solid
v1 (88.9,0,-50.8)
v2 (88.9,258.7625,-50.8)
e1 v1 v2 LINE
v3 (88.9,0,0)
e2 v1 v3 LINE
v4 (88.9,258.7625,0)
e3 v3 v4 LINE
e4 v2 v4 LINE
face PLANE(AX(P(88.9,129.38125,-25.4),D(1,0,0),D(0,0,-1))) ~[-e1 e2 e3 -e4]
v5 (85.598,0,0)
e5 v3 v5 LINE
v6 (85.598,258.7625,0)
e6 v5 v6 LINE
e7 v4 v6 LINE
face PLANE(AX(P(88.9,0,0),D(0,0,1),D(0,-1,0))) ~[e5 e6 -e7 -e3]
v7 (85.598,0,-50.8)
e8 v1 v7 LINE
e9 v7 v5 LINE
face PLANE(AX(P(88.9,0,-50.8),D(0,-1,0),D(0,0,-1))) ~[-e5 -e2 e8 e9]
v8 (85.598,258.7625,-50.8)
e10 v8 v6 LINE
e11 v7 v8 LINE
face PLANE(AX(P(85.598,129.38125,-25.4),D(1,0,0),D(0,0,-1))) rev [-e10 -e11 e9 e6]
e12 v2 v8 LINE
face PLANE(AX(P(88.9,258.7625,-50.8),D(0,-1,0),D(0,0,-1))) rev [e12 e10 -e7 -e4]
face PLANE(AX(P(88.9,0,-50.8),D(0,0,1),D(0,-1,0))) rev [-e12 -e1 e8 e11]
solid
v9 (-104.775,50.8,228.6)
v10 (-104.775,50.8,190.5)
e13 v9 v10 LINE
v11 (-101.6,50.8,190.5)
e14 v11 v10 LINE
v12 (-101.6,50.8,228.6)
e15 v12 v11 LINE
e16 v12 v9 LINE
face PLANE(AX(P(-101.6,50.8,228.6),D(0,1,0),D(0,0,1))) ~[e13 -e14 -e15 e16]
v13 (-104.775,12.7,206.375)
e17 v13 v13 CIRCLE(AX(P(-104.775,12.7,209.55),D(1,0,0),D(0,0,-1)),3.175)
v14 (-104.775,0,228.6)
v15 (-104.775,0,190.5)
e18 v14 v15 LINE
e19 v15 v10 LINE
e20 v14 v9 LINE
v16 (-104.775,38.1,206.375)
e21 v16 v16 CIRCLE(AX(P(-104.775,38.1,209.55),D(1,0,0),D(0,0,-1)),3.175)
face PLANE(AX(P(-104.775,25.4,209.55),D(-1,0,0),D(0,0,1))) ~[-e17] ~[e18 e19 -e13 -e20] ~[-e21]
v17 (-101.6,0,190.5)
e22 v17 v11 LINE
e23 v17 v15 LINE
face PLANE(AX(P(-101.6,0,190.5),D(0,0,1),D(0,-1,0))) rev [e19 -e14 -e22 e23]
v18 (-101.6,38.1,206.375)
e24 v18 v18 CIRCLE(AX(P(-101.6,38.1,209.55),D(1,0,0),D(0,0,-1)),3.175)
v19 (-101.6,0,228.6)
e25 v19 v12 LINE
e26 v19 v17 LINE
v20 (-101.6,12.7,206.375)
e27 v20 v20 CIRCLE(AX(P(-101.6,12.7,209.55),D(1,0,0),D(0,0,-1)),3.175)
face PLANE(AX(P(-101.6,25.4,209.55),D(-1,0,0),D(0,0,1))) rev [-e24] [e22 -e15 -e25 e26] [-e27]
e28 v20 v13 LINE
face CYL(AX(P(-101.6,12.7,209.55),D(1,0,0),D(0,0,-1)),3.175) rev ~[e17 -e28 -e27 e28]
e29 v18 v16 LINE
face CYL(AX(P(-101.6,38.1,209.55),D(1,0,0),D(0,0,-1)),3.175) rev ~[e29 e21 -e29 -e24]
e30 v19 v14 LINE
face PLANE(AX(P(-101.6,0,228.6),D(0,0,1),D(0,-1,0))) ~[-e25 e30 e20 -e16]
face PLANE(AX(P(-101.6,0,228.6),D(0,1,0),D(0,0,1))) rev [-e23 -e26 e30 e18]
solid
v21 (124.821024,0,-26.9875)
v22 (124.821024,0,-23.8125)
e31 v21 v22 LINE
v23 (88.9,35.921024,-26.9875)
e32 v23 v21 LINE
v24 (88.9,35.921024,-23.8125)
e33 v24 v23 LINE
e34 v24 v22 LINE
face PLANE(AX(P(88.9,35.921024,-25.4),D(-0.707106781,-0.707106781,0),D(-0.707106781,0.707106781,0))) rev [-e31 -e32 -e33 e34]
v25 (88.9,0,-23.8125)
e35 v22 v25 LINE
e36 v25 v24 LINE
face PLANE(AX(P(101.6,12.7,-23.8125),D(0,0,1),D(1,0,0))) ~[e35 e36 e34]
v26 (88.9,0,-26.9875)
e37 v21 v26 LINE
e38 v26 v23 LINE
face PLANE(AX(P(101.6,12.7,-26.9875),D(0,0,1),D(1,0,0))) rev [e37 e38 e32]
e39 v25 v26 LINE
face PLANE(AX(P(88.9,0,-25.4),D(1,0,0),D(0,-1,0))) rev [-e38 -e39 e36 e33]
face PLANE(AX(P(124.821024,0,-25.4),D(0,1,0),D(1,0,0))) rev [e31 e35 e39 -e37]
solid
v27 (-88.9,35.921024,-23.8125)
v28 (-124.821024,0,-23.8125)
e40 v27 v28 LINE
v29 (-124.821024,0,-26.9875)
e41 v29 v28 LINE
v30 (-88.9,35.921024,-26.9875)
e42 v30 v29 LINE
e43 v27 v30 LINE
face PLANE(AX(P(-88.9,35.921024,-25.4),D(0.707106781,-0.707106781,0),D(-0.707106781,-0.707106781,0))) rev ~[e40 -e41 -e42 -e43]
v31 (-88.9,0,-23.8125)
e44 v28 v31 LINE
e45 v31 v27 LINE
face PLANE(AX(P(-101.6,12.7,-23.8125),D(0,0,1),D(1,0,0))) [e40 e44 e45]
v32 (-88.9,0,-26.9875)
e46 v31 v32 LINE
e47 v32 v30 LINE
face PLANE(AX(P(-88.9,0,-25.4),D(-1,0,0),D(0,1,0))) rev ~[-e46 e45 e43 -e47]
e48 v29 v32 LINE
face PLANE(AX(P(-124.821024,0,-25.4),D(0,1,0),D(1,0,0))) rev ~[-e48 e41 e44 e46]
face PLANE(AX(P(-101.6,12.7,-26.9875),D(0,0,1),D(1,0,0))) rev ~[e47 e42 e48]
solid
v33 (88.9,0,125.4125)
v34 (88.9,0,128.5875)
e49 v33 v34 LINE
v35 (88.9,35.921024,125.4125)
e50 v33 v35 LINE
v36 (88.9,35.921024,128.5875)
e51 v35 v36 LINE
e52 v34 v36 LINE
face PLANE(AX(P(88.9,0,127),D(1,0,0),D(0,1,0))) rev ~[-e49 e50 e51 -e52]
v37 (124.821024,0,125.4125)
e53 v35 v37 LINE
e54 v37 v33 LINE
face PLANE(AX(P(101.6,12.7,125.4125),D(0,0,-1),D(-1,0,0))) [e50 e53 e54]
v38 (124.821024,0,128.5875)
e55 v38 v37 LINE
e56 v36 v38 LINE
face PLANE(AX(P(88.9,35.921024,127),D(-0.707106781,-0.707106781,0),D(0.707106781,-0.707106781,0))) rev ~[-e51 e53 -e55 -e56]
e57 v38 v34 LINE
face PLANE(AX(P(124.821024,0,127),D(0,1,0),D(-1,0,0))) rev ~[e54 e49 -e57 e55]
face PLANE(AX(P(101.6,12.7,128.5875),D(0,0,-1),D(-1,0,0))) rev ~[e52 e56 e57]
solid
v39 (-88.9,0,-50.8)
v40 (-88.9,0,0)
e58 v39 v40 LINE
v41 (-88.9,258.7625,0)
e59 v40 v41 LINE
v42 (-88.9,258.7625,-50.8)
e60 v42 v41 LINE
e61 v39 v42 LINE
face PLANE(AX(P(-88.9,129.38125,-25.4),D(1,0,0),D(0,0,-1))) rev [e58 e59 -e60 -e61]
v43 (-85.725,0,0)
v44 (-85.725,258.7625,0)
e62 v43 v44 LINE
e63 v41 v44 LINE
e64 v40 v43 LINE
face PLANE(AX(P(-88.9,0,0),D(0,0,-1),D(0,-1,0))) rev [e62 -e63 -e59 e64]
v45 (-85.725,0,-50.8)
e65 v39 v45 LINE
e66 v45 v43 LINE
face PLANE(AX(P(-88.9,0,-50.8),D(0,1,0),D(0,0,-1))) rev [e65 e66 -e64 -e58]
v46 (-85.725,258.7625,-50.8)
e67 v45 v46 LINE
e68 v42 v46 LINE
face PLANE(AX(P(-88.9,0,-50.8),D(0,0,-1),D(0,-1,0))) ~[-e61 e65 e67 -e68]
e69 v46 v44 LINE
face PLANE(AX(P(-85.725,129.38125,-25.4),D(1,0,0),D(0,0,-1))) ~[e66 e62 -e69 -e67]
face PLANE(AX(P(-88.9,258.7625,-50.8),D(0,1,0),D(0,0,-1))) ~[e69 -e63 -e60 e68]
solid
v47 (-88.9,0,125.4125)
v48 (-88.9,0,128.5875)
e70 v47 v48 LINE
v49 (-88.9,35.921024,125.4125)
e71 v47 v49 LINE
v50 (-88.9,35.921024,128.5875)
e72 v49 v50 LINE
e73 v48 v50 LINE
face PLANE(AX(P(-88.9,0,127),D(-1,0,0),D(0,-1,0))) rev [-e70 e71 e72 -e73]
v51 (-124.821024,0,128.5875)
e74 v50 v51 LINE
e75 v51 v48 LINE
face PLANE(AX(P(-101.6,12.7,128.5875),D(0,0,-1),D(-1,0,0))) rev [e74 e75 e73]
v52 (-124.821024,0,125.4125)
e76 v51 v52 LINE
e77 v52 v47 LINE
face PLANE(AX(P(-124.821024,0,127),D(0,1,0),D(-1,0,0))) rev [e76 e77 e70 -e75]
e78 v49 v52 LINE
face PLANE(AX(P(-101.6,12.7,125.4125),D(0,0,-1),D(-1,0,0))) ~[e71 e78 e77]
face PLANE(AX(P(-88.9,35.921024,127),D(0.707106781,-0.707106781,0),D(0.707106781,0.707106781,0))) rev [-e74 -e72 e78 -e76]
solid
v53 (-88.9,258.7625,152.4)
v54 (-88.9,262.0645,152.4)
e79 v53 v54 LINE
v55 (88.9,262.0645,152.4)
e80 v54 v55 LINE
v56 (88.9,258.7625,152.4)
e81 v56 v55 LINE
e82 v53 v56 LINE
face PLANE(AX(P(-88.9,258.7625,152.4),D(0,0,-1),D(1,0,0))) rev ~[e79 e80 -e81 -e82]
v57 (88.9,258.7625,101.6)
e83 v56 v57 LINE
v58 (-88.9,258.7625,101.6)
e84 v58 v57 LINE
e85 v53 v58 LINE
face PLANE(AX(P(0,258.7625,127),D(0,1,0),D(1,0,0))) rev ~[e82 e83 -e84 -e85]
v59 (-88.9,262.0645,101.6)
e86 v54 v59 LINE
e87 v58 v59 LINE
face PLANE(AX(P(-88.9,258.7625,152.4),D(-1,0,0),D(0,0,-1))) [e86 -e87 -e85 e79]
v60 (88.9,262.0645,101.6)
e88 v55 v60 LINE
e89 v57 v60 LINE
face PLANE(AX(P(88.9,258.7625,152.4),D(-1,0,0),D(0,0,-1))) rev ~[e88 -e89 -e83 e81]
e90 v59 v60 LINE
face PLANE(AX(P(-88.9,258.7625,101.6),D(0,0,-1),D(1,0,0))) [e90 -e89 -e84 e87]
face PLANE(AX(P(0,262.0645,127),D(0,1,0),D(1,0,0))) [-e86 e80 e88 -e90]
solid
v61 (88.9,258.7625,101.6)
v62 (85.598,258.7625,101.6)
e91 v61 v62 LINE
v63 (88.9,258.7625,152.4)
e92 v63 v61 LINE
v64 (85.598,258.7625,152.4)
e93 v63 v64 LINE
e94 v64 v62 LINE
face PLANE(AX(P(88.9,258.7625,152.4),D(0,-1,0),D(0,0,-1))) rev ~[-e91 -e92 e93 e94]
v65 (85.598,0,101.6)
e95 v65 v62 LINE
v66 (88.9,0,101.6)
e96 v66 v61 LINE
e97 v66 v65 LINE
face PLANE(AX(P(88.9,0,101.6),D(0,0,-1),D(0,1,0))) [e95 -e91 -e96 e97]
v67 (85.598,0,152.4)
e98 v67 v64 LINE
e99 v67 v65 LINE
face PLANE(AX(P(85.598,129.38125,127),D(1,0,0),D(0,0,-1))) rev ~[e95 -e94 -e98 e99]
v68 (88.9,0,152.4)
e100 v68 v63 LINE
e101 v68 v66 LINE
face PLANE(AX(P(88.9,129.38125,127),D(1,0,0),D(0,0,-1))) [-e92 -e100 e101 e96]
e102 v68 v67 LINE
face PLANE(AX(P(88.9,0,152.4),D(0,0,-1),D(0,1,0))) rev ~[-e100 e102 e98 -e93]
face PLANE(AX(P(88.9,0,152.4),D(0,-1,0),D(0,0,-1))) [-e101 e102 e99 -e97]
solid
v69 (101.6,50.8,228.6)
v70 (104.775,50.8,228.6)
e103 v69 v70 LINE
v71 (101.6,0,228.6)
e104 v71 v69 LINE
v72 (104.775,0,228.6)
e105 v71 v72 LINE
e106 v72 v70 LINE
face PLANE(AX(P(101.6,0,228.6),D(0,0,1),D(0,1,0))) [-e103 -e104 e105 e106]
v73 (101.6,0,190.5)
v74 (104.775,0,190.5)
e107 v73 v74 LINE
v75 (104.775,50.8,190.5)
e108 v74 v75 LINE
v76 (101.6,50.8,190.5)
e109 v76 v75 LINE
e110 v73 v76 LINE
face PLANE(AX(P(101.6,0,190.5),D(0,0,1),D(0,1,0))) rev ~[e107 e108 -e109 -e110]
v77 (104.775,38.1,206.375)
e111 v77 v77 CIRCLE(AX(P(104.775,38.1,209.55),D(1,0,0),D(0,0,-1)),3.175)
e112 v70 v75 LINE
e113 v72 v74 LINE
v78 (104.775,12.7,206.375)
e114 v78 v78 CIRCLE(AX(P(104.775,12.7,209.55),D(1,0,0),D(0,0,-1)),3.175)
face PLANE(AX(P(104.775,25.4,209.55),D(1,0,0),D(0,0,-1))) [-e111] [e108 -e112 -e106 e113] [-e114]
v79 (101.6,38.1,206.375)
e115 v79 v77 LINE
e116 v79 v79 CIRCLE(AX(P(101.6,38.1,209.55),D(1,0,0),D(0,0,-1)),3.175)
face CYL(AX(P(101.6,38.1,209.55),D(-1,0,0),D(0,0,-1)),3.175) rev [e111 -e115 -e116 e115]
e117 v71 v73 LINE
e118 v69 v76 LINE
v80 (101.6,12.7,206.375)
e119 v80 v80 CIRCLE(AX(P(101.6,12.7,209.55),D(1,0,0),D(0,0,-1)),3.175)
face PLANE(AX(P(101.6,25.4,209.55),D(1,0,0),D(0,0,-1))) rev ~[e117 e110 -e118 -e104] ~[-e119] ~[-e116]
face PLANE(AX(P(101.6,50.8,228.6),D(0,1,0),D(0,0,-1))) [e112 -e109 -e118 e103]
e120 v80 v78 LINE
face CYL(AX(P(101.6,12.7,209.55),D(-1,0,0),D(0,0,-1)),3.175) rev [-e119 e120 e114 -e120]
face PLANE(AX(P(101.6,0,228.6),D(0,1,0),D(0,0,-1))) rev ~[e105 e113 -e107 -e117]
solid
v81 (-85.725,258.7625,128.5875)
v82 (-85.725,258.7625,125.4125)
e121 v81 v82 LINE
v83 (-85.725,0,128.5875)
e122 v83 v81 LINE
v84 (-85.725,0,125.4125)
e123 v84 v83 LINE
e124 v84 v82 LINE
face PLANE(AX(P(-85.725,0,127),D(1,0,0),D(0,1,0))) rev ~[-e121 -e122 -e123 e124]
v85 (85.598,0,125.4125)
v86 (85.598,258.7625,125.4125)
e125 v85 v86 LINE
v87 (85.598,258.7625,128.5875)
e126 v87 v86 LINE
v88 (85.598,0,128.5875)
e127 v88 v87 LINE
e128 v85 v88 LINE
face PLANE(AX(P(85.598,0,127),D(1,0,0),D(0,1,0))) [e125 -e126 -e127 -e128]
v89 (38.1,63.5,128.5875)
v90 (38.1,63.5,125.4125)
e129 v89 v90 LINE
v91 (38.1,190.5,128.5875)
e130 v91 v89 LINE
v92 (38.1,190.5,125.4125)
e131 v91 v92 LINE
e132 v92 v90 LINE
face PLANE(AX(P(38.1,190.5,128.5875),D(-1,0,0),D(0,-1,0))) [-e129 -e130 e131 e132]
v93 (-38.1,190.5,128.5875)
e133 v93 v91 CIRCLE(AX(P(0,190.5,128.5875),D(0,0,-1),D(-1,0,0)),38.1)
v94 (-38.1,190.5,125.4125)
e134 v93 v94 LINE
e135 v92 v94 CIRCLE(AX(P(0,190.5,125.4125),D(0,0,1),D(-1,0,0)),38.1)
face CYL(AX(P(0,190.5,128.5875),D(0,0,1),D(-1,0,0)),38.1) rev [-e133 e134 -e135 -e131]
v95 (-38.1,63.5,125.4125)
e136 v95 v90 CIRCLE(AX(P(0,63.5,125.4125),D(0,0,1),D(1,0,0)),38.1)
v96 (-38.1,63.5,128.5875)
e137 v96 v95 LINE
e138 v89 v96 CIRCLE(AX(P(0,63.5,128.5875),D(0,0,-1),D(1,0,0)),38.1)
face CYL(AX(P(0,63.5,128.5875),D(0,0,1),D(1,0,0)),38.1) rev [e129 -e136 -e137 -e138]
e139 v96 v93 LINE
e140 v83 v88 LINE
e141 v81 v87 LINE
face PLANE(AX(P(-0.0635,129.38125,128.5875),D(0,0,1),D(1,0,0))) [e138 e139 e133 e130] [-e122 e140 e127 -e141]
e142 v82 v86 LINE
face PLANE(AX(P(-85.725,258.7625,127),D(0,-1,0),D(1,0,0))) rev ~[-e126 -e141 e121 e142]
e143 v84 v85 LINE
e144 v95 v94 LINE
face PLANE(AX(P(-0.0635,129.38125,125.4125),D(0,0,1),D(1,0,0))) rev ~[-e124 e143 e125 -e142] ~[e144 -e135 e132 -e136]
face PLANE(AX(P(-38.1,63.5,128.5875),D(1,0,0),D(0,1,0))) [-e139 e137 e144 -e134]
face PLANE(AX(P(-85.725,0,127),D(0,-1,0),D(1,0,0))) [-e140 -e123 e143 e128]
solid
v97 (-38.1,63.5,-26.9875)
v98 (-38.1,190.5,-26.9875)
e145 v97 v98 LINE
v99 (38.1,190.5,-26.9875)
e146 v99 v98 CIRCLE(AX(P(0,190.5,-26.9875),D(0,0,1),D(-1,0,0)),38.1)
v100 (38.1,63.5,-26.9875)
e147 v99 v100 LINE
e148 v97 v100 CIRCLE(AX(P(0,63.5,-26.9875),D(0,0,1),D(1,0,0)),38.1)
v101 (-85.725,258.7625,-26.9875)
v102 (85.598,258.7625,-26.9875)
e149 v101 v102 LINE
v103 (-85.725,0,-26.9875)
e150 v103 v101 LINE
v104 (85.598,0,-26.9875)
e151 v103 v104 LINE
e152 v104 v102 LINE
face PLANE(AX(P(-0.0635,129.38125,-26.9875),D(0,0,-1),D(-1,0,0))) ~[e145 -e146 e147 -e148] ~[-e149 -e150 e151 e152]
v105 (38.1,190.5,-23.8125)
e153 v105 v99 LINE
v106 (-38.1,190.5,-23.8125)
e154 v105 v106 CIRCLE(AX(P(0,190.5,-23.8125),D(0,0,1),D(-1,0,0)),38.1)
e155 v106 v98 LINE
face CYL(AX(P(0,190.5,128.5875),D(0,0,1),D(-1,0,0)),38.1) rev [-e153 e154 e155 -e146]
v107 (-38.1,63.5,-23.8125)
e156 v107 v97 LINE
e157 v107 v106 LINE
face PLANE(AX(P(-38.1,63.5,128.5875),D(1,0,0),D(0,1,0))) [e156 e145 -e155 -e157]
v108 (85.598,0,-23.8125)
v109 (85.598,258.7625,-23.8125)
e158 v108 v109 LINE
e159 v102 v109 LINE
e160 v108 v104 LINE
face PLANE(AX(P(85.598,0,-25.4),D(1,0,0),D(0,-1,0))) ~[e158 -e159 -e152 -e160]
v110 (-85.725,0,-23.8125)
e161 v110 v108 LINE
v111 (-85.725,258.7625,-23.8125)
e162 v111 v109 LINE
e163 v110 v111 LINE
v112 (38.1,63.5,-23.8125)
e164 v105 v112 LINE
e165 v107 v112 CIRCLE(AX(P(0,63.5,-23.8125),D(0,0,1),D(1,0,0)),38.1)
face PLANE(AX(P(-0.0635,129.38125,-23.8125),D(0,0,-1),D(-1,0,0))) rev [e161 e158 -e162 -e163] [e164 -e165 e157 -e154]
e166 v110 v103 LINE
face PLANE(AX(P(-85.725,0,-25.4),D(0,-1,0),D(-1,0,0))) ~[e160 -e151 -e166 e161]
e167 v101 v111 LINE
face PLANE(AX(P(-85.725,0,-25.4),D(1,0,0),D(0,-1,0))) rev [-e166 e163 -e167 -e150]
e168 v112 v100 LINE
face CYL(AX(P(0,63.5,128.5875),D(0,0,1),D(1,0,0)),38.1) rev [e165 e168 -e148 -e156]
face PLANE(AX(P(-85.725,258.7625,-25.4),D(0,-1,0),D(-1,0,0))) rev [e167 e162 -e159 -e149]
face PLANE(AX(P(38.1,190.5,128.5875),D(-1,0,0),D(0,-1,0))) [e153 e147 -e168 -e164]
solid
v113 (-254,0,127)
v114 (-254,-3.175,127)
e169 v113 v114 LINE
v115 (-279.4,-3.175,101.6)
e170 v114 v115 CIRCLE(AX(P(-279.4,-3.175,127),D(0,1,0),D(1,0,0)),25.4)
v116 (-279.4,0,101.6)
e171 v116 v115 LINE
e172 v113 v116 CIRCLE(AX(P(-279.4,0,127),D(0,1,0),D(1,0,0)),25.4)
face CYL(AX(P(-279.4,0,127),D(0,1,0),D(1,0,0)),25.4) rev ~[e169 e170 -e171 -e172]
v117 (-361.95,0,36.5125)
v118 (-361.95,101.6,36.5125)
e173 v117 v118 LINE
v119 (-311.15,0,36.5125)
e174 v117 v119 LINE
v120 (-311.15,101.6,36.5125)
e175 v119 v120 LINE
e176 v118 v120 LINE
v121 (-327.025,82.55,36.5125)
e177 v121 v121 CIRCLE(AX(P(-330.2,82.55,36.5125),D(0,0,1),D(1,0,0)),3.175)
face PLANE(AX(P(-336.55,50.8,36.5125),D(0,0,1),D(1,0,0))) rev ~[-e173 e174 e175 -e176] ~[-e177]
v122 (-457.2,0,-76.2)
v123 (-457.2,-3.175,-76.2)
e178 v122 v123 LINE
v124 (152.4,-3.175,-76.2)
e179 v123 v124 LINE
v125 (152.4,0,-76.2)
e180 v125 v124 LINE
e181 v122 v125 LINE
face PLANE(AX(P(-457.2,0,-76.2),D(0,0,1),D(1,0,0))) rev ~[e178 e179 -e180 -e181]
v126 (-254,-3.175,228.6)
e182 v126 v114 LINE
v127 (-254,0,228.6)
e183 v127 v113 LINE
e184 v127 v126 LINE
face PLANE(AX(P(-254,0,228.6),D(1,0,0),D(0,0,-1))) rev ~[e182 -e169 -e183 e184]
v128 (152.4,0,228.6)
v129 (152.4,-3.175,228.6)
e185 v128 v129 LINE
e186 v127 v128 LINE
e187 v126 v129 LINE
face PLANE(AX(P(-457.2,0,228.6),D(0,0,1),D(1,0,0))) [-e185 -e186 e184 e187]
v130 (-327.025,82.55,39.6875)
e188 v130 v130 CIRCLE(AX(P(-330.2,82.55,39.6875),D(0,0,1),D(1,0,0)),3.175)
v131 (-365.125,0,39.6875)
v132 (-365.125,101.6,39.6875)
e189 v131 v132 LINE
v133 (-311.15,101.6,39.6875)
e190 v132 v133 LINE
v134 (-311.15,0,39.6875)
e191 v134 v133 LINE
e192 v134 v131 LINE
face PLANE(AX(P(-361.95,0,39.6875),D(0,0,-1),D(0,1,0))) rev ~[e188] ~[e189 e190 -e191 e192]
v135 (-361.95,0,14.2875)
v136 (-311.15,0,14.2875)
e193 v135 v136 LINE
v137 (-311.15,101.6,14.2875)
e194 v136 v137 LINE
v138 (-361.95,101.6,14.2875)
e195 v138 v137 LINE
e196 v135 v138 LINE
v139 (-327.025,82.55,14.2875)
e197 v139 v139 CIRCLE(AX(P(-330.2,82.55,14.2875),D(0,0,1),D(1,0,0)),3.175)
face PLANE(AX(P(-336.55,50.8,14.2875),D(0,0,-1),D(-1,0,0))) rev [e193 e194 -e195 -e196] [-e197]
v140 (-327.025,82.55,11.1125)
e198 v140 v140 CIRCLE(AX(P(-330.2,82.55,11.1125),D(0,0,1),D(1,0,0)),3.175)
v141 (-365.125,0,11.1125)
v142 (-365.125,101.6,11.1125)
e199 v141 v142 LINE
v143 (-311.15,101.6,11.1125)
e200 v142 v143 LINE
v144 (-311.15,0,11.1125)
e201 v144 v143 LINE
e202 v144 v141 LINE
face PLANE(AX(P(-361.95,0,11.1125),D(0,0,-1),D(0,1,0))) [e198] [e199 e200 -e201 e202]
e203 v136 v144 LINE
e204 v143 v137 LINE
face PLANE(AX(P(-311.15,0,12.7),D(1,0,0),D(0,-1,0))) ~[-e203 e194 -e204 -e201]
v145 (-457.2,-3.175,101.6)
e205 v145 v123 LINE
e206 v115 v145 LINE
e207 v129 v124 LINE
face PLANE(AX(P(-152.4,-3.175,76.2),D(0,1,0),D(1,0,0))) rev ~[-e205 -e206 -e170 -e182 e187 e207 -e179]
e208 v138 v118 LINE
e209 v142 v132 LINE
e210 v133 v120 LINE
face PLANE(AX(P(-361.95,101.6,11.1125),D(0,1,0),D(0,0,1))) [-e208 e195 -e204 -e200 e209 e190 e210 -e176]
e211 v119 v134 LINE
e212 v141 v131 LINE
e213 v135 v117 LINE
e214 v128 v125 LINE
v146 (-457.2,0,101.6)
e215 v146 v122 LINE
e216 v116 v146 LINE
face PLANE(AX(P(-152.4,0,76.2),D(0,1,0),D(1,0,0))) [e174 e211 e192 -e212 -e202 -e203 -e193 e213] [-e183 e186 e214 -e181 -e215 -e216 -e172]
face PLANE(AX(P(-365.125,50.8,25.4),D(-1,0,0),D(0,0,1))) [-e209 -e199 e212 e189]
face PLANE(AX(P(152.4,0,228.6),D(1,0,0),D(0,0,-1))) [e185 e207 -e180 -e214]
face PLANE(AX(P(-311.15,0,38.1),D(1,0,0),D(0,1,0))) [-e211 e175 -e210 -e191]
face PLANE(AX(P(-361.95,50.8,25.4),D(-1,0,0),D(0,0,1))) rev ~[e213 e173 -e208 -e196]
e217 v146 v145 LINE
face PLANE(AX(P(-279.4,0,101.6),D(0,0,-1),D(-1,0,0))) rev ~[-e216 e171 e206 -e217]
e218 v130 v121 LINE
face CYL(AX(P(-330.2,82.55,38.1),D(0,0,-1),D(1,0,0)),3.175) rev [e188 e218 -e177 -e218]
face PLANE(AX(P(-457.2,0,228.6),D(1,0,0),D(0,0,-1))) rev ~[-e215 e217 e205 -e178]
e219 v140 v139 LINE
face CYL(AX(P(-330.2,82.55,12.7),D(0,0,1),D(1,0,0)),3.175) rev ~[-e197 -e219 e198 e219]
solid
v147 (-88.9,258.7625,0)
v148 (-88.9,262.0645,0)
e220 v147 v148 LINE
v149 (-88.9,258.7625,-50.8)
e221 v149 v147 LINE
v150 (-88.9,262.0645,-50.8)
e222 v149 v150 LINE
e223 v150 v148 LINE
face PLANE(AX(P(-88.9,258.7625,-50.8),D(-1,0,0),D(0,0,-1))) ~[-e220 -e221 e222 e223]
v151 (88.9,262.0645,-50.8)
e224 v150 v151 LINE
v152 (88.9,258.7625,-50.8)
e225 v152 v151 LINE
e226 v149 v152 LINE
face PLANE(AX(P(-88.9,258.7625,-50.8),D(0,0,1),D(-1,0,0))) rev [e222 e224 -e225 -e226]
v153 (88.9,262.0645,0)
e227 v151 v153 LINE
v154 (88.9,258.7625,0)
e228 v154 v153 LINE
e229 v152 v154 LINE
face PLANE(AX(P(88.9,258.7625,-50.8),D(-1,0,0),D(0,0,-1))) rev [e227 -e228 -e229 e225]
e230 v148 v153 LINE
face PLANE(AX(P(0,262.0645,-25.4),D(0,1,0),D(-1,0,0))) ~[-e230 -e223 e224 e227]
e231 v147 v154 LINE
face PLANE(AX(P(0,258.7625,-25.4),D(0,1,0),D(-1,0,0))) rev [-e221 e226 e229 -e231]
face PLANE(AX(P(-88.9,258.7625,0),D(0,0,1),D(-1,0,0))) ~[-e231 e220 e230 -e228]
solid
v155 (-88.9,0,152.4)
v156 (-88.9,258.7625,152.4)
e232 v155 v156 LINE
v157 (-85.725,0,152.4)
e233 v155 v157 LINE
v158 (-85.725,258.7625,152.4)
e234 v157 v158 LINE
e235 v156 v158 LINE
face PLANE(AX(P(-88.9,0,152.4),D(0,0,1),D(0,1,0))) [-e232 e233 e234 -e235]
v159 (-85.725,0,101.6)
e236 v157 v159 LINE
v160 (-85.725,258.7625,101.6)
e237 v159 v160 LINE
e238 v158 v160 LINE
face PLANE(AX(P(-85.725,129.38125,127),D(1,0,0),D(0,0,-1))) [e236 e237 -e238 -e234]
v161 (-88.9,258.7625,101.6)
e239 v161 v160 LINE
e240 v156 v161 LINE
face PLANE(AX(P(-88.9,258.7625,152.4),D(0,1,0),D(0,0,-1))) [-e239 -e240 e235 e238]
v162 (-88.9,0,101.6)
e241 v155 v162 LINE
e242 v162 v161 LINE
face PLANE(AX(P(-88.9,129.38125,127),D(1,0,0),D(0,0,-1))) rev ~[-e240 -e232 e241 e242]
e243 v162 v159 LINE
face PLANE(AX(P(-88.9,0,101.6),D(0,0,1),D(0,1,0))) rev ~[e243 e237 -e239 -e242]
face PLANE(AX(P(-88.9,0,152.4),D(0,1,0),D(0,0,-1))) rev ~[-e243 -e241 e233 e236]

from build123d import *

# Parameters (mm, degrees)
SKETCH2_W           = 609.6
SKETCH2_H           = 304.8
BOSS_EXTRUDE1_DEPTH = 3.175
SKETCH3_W           = 50.8
SKETCH3_H           = 258.7625
BOSS_EXTRUDE2_DEPTH = 3.302
SKETCH6_W           = 50.8
SKETCH6_H           = 258.7625
BOSS_EXTRUDE5_DEPTH = 3.175
SKETCH4_W           = 177.8
SKETCH4_H           = 50.8
BOSS_EXTRUDE3_DEPTH = 3.302
SKETCH5_W           = 171.323
SKETCH5_H           = 258.7625
BOSS_EXTRUDE4_DEPTH = 1.5875
SKETCH8_W           = 50.8
SKETCH8_H           = 101.6
SKETCH8_R           = 3.175
BOSS_EXTRUDE6_DEPTH = 1.5875
SKETCH9_W           = 28.575
SKETCH9_H           = 101.6
BOSS_EXTRUDE7_DEPTH = 3.175
BOSS_EXTRUDE8_DEPTH = 1.5875
CUT_EXTRUDE1_DEPTH  = 566.373825284
CUT_EXTRUDE2_DEPTH  = 575.428065262
SKETCH13_W          = 38.1
SKETCH13_H          = 50.8
SKETCH13_R          = 3.175
BOSS_EXTRUDE9_DEPTH = 3.175


with BuildPart() as part:
    # Sketch2 → Boss-Extrude1 (new body)
    with BuildSketch(Plane(origin=(0, 0, 0), x_dir=(1, 0, 0), z_dir=(0, 1, 0))):
        with Locations((-152.4, -76.2)):
            Rectangle(SKETCH2_W, SKETCH2_H)
    extrude(amount=-BOSS_EXTRUDE1_DEPTH)



with BuildPart() as body_2:
    # Sketch3 → Boss-Extrude2 (new body)
    with BuildSketch(Plane(origin=(88.9, 0, 0), x_dir=(0, 0, -1), z_dir=(1, 0, 0))):
        with Locations((-127, 129.38125)):
            Rectangle(SKETCH3_W, SKETCH3_H)
    extrude(amount=-BOSS_EXTRUDE2_DEPTH)


with BuildPart() as body_3:
    # Sketch6 → Boss-Extrude5 (new body)
    with BuildSketch(Plane(origin=(-88.9, 0, 0), x_dir=(0, 0, -1), z_dir=(1, 0, 0))):
        with Locations((-127, 129.38125)):
            Rectangle(SKETCH6_W, SKETCH6_H)
    extrude(amount=BOSS_EXTRUDE5_DEPTH)


with BuildPart() as body_4:
    # Sketch4 → Boss-Extrude3 (new body)
    with BuildSketch(Plane(origin=(0, 258.7625, 0), x_dir=(1, 0, 0), z_dir=(0, 1, 0))):
        with Locations((0, -127)):
            Rectangle(SKETCH4_W, SKETCH4_H)
    extrude(amount=BOSS_EXTRUDE3_DEPTH)


with BuildPart() as body_5:
    # Sketch5 → Boss-Extrude4 (new, symmetric)
    with BuildSketch(Plane.XY.offset(127)):
        with Locations((-0.0635, 129.38125)):
            Rectangle(SKETCH5_W, SKETCH5_H)
    extrude(amount=BOSS_EXTRUDE4_DEPTH, both=True)


with BuildPart() as body_6:
    # Mirror4: mirrored copy
    add(body_5.part.mirror(Plane.XY.offset(50.8)))


with BuildPart() as body_7:
    # Mirror4 2: mirrored copy
    add(body_2.part.mirror(Plane.XY.offset(50.8)))


with BuildPart() as body_8:
    # Mirror4 3: mirrored copy
    add(body_4.part.mirror(Plane.XY.offset(50.8)))


with BuildPart() as body_9:
    # Mirror4 4: mirrored copy
    add(body_3.part.mirror(Plane.XY.offset(50.8)))


with BuildPart() as body_10:
    # Sketch8 → Boss-Extrude6 (new, symmetric)
    with BuildSketch(Plane.XY.offset(38.1)):
        with Locations((-336.55, 50.8)):
            Rectangle(SKETCH8_W, SKETCH8_H)
        with Locations((-330.2, 82.55)):
            Circle(SKETCH8_R, mode=Mode.SUBTRACT)
    extrude(amount=BOSS_EXTRUDE6_DEPTH, both=True)


with BuildPart() as body_11:
    # Mirror5: mirrored copy
    add(body_10.part.mirror(Plane.XY.offset(25.4)))


with BuildPart() as part_1:
    add(part.part)

    add(body_10.part)  # Boss-Extrude7 merges body 10

    add(body_11.part)  # Boss-Extrude7 merges body 11
    # Sketch9 → Boss-Extrude7 (add)
    with BuildSketch(Plane.ZY.offset(361.95)):
        with Locations((25.4, 50.8)):
            Rectangle(SKETCH9_W, SKETCH9_H)
    extrude(amount=BOSS_EXTRUDE7_DEPTH)

    # Sketch12 → Cut-Extrude2 (cut, through all)
    with BuildSketch(Plane(origin=(0, 0, 0), x_dir=(1, 0, 0), z_dir=(0, 1, 0))):
        with BuildLine():
            Line((-457.2, -228.6), (-254, -228.6))
            Line((-254, -228.6), (-254, -127))
            ThreePointArc((-254, -127), (-261.439487758, -109.039487758), (-279.4, -101.6))
            Line((-279.4, -101.6), (-457.2, -101.6))
            Line((-457.2, -101.6), (-457.2, -228.6))
        make_face()
    extrude(amount=-CUT_EXTRUDE2_DEPTH, mode=Mode.SUBTRACT)


with BuildPart() as body_10_2:
    # Sketch10 → Boss-Extrude8 (new, symmetric)
    with BuildSketch(Plane.XY.offset(127)):
        Polygon((88.9, 35.921024484), (124.821024484, 0), (88.9, 0), align=None)
    extrude(amount=BOSS_EXTRUDE8_DEPTH, both=True)


with BuildPart() as body_11_2:
    # Mirror6: mirrored copy
    add(body_10_2.part.mirror(Plane.XY.offset(50.8)))


with BuildPart() as body_12:
    # Mirror7: mirrored copy
    add(body_10_2.part.mirror(Plane(origin=(0, 0, 0), x_dir=(0, 0, 1), z_dir=(1, 0, 0))))


with BuildPart() as body_13:
    # Mirror7 2: mirrored copy
    add(body_11_2.part.mirror(Plane(origin=(0, 0, 0), x_dir=(0, 0, 1), z_dir=(1, 0, 0))))


with BuildPart() as cut_extrude1_tool:
    # Sketch11 → Cut-Extrude1 (new, through all)
    with BuildSketch(Plane.XY.offset(128.5875)):
        with BuildLine():
            Line((-38.1, 63.5), (-38.1, 190.5))
            ThreePointArc((-38.1, 190.5), (0, 228.6), (38.1, 190.5))
            Line((38.1, 190.5), (38.1, 63.5))
            ThreePointArc((38.1, 63.5), (0, 25.4), (-38.1, 63.5))
        make_face()
    extrude(amount=-CUT_EXTRUDE1_DEPTH)


with BuildPart() as body_5_1:
    add(body_5.part)

    # Cut-Extrude1: cut by cut_extrude1_tool
    add(cut_extrude1_tool.part, mode=Mode.SUBTRACT)


with BuildPart() as body_6_1:
    add(body_6.part)

    # Cut-Extrude1: cut by cut_extrude1_tool
    add(cut_extrude1_tool.part, mode=Mode.SUBTRACT)


with BuildPart() as body_14:
    # Sketch13 → Boss-Extrude9 (new body)
    with BuildSketch(Plane(origin=(101.6, 0, 0), x_dir=(0, 0, -1), z_dir=(1, 0, 0))):
        with Locations((-209.55, 25.4)):
            Rectangle(SKETCH13_W, SKETCH13_H)
        with Locations((-209.55, 38.1)):
            Circle(SKETCH13_R, mode=Mode.SUBTRACT)
        with Locations((-209.55, 12.7)):
            Circle(SKETCH13_R, mode=Mode.SUBTRACT)
    extrude(amount=BOSS_EXTRUDE9_DEPTH)


with BuildPart() as body_15:
    # Mirror8: mirrored copy
    add(body_14.part.mirror(Plane(origin=(0, 0, 0), x_dir=(0, 0, 1), z_dir=(1, 0, 0))))


solid = Compound([body_2.part, body_3.part, body_4.part, body_7.part, body_8.part, body_9.part, part_1.part, body_10_2.part, body_11_2.part, body_12.part, body_13.part, body_5_1.part, body_6_1.part, body_14.part, body_15.part])
